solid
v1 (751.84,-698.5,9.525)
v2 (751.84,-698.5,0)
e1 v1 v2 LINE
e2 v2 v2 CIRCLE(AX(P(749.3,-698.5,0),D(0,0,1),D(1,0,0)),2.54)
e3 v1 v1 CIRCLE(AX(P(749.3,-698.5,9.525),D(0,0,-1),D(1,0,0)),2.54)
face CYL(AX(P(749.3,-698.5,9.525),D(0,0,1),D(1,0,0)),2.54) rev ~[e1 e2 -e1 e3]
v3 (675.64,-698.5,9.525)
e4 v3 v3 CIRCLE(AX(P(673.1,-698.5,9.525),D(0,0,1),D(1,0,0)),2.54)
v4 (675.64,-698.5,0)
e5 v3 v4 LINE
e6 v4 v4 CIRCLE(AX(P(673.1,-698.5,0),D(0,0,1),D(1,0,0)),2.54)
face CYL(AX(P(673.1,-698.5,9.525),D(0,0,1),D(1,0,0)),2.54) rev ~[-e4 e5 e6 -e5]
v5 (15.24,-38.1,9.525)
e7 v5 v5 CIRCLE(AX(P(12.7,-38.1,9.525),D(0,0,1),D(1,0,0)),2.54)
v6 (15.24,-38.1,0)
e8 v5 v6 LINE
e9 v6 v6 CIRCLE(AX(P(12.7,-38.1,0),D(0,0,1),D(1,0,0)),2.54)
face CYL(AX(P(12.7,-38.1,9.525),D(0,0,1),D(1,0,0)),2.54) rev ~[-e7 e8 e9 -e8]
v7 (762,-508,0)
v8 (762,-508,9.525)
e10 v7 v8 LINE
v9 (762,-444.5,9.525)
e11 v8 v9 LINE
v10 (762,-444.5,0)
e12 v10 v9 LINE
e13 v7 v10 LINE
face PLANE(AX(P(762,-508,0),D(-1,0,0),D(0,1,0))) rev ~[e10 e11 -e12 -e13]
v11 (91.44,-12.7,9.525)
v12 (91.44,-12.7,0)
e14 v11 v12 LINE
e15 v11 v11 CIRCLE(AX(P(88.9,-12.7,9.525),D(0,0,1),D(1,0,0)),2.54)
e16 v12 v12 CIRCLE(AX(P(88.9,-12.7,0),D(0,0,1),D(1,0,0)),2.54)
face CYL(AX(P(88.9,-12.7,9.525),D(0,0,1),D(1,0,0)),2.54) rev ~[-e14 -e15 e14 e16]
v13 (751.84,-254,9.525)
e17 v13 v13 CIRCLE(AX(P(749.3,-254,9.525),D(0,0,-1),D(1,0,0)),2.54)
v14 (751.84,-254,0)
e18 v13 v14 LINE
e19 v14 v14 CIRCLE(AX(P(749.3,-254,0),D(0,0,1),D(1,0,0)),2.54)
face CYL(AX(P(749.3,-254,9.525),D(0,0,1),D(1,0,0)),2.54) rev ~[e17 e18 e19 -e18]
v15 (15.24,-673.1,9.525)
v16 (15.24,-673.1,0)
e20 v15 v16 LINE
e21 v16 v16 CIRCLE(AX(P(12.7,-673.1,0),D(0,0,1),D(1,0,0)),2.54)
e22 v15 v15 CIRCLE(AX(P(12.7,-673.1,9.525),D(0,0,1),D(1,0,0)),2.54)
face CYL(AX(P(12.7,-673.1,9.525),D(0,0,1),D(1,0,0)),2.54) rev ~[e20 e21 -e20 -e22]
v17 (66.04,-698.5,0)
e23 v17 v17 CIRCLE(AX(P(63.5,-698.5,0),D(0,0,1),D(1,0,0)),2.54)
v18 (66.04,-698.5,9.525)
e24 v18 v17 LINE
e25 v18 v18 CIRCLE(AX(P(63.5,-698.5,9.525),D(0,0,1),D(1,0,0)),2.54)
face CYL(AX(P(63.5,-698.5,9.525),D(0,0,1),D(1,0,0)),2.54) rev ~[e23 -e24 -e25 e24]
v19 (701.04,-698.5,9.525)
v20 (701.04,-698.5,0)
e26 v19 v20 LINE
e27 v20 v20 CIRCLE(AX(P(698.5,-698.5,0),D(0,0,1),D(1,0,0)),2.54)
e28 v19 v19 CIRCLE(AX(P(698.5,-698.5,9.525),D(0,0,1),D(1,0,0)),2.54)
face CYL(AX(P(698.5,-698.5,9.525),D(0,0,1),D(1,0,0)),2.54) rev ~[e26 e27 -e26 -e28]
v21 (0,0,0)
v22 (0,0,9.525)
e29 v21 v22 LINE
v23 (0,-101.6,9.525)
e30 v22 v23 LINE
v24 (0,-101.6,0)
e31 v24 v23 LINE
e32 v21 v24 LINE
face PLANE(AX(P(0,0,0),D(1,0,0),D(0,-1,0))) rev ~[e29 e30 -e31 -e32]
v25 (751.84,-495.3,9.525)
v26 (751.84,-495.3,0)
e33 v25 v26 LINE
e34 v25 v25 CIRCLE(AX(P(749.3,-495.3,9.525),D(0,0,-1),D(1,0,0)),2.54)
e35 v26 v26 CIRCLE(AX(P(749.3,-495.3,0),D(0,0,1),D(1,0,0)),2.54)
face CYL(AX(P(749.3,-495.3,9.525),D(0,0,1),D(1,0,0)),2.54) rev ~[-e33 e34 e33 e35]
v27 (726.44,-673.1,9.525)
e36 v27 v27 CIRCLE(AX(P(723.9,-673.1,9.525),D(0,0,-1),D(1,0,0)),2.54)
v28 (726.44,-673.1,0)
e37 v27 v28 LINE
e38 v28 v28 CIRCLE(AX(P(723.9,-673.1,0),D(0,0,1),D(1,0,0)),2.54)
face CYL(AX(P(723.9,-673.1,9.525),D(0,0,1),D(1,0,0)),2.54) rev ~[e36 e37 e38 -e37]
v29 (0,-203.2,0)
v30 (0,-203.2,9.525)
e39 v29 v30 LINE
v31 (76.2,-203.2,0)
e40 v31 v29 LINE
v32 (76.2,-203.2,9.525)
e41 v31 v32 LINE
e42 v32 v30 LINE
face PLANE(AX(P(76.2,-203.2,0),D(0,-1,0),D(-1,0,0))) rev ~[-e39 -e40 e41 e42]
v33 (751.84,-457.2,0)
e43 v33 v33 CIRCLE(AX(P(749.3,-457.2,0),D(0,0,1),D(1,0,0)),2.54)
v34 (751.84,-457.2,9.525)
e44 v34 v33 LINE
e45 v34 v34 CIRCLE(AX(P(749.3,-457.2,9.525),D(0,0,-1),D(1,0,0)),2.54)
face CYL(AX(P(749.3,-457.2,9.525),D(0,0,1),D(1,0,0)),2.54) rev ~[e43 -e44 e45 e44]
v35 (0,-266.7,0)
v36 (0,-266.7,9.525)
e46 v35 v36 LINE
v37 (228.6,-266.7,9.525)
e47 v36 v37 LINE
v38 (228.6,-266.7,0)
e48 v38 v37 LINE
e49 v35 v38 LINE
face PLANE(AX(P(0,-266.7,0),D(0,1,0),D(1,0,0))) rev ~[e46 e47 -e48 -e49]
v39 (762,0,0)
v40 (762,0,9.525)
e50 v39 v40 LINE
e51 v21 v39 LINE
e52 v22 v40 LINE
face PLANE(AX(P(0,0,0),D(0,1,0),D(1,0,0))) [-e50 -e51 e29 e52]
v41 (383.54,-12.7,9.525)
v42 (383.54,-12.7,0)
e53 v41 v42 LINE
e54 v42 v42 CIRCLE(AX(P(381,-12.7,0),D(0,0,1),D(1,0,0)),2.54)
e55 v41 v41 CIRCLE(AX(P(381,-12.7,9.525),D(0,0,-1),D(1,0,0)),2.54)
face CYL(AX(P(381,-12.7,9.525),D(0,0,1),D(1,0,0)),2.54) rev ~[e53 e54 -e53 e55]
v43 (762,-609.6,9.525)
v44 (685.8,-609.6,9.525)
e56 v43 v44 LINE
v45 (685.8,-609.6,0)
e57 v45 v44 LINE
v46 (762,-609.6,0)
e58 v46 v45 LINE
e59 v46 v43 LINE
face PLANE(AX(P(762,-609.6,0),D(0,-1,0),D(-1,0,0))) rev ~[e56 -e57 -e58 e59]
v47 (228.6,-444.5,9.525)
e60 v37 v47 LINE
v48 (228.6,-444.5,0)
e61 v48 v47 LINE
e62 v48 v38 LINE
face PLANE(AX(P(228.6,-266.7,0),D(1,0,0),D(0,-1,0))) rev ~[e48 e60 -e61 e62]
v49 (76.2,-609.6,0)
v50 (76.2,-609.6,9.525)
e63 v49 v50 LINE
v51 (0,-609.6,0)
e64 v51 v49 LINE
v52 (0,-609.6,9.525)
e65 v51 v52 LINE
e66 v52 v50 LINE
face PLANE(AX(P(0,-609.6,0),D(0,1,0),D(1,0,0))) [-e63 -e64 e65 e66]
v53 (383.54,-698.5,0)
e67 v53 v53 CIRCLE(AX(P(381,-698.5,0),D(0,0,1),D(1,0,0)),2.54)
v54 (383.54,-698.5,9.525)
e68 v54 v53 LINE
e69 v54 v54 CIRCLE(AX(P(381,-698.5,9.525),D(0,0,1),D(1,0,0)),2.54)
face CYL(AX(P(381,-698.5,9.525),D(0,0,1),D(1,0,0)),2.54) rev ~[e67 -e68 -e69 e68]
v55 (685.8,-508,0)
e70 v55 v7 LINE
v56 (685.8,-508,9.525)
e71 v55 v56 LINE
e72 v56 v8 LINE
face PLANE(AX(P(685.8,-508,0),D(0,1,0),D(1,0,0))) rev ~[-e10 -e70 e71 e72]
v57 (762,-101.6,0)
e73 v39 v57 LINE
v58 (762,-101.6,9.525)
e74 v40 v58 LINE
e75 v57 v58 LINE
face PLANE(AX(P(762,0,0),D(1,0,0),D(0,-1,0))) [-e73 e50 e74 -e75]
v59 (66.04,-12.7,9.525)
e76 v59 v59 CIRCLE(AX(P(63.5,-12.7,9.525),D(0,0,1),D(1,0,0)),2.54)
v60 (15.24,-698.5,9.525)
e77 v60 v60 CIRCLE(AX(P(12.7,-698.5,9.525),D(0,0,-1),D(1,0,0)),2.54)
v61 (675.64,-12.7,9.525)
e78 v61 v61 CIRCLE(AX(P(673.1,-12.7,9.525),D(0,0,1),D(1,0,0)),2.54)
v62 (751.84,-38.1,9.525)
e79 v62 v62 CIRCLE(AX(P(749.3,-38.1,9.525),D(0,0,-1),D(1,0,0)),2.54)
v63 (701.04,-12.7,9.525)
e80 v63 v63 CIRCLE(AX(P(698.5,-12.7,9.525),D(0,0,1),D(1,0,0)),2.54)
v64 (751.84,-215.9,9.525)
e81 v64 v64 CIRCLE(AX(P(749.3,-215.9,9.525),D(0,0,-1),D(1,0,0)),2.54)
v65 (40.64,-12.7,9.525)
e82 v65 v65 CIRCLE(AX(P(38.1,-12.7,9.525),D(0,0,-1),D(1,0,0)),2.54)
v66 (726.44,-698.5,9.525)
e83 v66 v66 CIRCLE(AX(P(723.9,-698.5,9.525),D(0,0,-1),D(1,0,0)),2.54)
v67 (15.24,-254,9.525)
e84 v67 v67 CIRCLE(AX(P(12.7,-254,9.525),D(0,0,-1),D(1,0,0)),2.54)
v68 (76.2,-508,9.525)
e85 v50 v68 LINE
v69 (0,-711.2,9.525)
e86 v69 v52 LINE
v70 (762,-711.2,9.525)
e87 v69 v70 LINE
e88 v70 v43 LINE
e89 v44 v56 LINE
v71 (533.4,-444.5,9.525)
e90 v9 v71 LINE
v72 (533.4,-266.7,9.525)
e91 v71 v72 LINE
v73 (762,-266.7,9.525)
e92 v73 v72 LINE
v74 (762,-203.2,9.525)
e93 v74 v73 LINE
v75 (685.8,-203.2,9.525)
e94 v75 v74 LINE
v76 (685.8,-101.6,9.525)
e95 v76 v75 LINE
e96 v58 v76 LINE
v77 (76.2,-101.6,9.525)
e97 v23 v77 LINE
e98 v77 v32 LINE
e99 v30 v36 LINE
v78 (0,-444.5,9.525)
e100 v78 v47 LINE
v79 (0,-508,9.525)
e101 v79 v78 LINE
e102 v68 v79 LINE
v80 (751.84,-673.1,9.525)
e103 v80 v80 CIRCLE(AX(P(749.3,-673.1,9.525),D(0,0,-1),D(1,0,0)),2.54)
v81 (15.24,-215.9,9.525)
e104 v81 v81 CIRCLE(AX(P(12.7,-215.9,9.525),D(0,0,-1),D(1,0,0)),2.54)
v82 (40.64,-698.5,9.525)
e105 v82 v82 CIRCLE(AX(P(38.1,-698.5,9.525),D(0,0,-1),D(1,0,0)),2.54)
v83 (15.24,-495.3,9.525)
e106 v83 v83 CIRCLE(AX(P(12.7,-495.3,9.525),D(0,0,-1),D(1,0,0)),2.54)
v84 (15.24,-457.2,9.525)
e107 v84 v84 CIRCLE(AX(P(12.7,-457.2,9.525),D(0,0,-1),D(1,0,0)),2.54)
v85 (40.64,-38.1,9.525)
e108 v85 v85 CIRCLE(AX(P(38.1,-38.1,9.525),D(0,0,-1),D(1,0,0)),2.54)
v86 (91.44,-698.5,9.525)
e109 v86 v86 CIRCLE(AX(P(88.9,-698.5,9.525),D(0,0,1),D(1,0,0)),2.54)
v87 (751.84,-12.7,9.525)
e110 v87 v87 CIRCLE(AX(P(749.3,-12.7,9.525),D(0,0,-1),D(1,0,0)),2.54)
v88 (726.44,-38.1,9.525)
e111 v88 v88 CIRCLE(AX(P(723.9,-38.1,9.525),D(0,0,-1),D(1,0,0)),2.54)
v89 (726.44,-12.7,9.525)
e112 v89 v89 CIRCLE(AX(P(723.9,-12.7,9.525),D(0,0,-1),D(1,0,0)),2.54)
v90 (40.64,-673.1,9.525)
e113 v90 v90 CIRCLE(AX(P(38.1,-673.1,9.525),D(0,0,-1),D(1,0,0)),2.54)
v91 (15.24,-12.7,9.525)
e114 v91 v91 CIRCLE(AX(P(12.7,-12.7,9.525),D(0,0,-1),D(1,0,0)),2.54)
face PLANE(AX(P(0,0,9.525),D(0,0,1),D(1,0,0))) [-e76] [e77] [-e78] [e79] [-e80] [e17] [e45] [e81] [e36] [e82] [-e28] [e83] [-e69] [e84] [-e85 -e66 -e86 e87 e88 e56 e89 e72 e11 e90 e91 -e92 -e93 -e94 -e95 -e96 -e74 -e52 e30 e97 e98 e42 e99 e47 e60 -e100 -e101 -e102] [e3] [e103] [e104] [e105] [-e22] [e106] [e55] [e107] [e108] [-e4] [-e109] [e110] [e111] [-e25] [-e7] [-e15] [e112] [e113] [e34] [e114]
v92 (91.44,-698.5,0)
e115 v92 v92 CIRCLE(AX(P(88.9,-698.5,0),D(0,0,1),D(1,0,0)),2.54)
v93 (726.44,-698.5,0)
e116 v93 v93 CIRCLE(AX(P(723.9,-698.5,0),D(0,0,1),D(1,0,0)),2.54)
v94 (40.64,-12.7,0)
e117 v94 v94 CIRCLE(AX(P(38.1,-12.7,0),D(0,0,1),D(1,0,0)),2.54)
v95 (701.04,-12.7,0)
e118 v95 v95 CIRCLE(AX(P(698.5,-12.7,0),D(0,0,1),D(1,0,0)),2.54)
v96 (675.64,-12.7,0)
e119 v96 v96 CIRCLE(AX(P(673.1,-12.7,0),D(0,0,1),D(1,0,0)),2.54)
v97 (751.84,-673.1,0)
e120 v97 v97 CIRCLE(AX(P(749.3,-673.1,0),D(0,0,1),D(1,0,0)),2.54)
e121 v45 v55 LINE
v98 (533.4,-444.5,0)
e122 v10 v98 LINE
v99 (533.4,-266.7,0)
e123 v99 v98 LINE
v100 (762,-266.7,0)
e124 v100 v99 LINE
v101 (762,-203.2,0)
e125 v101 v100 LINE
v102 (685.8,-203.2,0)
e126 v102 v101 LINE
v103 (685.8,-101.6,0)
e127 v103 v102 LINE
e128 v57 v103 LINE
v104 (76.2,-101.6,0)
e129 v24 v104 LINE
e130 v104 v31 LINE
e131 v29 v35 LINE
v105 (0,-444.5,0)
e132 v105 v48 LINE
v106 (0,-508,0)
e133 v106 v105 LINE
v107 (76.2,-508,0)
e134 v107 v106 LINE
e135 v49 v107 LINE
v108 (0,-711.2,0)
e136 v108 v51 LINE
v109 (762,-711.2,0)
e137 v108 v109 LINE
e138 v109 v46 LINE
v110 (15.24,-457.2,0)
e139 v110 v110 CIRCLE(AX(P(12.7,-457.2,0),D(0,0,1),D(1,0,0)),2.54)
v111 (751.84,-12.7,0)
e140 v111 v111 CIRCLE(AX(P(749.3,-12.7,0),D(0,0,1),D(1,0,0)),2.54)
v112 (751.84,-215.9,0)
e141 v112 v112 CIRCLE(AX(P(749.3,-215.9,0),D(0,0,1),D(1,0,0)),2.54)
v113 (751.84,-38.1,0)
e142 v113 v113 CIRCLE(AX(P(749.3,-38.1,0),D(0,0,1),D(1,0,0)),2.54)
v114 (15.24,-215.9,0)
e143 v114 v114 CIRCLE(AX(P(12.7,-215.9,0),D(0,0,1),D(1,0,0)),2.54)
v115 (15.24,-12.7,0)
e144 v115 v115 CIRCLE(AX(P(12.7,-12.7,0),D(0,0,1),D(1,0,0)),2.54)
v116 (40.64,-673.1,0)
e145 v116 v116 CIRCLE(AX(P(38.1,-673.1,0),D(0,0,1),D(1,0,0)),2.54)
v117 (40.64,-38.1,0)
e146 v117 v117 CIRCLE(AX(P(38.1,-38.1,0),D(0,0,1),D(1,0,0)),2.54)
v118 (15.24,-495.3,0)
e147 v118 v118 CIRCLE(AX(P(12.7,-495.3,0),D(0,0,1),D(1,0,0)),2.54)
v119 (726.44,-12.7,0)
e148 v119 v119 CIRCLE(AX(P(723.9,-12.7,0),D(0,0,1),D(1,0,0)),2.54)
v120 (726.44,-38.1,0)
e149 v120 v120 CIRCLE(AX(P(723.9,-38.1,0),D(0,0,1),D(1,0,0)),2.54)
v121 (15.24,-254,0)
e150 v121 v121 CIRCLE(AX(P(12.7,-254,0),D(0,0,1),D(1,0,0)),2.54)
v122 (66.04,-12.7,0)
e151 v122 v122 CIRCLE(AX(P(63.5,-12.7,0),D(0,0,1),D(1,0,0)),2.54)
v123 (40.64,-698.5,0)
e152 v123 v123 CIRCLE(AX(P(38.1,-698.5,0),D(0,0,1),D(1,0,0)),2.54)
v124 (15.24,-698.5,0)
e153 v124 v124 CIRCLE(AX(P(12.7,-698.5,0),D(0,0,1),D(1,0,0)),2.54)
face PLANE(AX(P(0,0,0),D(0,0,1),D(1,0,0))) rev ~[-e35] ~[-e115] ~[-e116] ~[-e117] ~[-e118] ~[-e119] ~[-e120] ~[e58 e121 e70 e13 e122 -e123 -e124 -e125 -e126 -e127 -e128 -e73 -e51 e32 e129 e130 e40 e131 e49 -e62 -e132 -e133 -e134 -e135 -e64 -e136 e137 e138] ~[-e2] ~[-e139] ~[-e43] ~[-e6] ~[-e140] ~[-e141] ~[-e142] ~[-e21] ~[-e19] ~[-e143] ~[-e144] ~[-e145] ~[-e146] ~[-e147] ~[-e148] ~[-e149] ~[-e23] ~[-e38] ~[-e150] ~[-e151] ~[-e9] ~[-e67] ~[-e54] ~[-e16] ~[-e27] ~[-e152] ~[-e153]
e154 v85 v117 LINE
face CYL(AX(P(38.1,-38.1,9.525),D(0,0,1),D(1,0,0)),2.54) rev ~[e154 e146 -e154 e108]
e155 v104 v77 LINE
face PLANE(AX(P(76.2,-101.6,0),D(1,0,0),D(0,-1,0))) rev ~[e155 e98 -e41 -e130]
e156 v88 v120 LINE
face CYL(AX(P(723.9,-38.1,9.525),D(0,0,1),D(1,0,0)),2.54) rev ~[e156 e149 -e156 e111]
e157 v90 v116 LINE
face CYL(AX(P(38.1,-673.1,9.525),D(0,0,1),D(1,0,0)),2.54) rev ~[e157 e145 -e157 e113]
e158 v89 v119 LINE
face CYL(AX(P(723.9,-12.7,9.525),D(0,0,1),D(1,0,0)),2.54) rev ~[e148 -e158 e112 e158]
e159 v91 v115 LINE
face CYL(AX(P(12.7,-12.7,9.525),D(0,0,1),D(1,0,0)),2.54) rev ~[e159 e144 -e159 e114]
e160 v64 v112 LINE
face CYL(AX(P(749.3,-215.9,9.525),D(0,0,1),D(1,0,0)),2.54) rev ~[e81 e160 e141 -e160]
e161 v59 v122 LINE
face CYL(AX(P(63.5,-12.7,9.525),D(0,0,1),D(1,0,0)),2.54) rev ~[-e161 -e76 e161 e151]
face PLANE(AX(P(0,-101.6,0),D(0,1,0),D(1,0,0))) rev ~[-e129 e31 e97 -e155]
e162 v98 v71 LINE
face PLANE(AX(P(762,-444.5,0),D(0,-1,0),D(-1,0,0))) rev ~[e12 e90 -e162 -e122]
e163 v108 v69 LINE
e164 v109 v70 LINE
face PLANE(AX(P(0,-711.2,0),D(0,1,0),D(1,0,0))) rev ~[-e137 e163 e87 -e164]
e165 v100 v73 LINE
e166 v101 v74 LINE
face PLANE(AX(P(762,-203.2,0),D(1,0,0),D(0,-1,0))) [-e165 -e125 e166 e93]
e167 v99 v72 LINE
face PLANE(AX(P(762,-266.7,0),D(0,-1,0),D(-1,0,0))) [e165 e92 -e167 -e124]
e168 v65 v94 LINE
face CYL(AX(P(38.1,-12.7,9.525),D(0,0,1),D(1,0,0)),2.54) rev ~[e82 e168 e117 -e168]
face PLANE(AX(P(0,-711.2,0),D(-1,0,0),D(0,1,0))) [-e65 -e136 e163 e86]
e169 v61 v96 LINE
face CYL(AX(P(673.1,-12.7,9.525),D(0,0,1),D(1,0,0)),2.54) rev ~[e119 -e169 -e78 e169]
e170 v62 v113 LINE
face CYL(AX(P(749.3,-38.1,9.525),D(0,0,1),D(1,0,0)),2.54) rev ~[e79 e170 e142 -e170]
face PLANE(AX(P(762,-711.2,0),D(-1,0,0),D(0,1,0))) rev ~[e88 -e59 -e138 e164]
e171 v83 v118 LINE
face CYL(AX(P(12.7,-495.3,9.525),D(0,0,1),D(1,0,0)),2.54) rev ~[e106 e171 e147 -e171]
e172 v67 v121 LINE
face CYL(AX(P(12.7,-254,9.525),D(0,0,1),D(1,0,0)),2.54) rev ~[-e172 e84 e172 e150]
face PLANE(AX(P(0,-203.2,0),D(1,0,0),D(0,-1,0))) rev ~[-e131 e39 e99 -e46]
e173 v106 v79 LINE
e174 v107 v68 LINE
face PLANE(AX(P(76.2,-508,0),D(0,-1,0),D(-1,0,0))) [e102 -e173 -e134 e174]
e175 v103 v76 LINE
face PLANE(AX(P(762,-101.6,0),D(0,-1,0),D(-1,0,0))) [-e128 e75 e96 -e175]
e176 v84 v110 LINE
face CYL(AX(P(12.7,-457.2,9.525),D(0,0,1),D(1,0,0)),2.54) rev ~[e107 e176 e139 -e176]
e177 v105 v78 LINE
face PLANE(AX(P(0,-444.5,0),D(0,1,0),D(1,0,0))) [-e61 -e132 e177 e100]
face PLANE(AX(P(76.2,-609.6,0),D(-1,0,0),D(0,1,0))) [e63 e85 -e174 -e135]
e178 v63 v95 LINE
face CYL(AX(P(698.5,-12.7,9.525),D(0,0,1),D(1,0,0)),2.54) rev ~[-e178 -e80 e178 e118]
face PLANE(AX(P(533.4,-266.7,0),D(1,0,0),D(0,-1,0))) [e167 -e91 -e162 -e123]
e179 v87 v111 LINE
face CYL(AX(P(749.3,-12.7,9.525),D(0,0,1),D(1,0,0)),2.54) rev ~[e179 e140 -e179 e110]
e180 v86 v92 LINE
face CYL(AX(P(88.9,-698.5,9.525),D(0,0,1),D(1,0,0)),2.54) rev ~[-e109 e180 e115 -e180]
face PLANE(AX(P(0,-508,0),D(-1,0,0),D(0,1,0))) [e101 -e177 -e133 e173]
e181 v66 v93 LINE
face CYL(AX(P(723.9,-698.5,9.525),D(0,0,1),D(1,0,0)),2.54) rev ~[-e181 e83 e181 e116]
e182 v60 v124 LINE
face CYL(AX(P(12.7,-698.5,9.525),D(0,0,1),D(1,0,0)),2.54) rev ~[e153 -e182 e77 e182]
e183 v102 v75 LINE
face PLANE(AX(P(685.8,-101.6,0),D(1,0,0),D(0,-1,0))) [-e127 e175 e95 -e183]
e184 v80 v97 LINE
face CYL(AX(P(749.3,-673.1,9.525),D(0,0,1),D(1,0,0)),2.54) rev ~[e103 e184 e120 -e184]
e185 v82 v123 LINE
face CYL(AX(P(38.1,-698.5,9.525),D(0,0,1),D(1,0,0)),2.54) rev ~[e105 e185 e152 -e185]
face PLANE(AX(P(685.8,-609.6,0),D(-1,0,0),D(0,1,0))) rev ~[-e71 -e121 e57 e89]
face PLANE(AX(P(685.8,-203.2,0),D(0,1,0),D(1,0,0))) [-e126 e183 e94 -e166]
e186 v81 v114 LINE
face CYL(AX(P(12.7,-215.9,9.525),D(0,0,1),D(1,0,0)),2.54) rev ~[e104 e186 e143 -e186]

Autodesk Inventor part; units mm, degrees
ref_plane "YZ Plane" through (0, 0, 0) normal (1, 0, 0) x (0, 1, 0)
ref_plane "XZ Plane" through (0, 0, 0) normal (0, 1, 0) x (-1, 0, 0)
ref_plane "XY Plane" through (0, 0, 0) normal (0, 0, 1) x (1, 0, 0)
sketch "Sketch1" plane through (0, 0, 0) normal (0, 0, 1) x (1, 0, 0)
  line L0 (0, 0) -> (762, 0)
  line L1 (0, 0) -> (0, -101.6)
  line L2 (0, -101.6) -> (76.2, -101.6)
  line L3 (76.2, -101.6) -> (76.2, -203.2)
  line L4 (76.2, -203.2) -> (0, -203.2)
  line L5 (0, -203.2) -> (0, -266.7)
  line L6 (0, -266.7) -> (228.6, -266.7)
  line L7 (228.6, -266.7) -> (228.6, -355.6)
  line L8 (0, -711.2) -> (762, -711.2)
  line L9 (0, -711.2) -> (0, -609.6)
  line L10 (0, -609.6) -> (76.2, -609.6)
  line L11 (76.2, -609.6) -> (76.2, -508)
  line L12 (76.2, -508) -> (0, -508)
  line L13 (0, -508) -> (0, -444.5)
  line L14 (0, -444.5) -> (228.6, -444.5)
  line L15 (228.6, -444.5) -> (228.6, -355.6)
  line L16 (762, 0) -> (762, -101.6)
  line L17 (762, -101.6) -> (685.8, -101.6)
  line L18 (685.8, -101.6) -> (685.8, -203.2)
  line L19 (685.8, -203.2) -> (762, -203.2)
  line L20 (762, -203.2) -> (762, -266.7)
  line L21 (762, -266.7) -> (533.4, -266.7)
  line L22 (533.4, -266.7) -> (533.4, -355.6)
  line L23 (762, -711.2) -> (762, -609.6)
  line L24 (762, -609.6) -> (685.8, -609.6)
  line L25 (685.8, -609.6) -> (685.8, -508)
  line L26 (685.8, -508) -> (762, -508)
  line L27 (762, -508) -> (762, -444.5)
  line L28 (762, -444.5) -> (533.4, -444.5)
  line L29 (533.4, -444.5) -> (533.4, -355.6)
  dimension "d0" = 762
  dimension "d1" = 101.6
  dimension "d2" = 76.2
  dimension "d3" = 101.6
  dimension "d4" = 63.5
  dimension "d5" = 228.6
  dimension "d7" = 88.9
extrude "Extrusion1" add sketch "Sketch1" along normal blind 9.525
sketch "Sketch2" plane through (0, 0, 9.525) normal (0, 0, 1) x (1, 0, 0)
  line L0 (0, 0) -> (12.7, 0)
  line L1 (0, 0) -> (762, 0) projected
  line L2 (12.7, 0) -> (12.7, -12.7)
  line L3 (12.7, -12.7) -> (38.1, -12.7)
  line L4 (38.1, -12.7) -> (38.1, -38.1)
  line L5 (38.1, -38.1) -> (12.7, -38.1)
  circle A0 centre (12.7, -12.7) radius 2.54
  circle A1 centre (38.1, -12.7) radius 2.54
  circle A2 centre (38.1, -38.1) radius 2.54
  circle A3 centre (12.7, -38.1) radius 2.54
  line L6 (0, -203.2) -> (76.2, -203.2) projected
  line L7 (0, -203.2) -> (12.7, -203.2)
  line L8 (12.7, -203.2) -> (12.7, -215.9)
  line L9 (228.6, -266.7) -> (0, -266.7) projected
  line L10 (0, -266.7) -> (12.7, -266.7)
  line L11 (12.7, -266.7) -> (12.7, -254)
  circle A4 centre (12.7, -254) radius 2.54
  circle A5 centre (12.7, -215.9) radius 2.54
  line L12 (381, 0) -> (381, -711.2)
  line L13 (762, -711.2) -> (0, -711.2) projected
  line L14 (0, -355.6) -> (762, -355.6)
  line L15 (762, 0) -> (749.3, 0)
  line L16 (762, 0) -> (0, 0)
  line L17 (749.3, 0) -> (749.3, -12.7)
  line L18 (749.3, -12.7) -> (723.9, -12.7)
  line L19 (723.9, -12.7) -> (723.9, -38.1)
  line L20 (723.9, -38.1) -> (749.3, -38.1)
  circle A6 centre (749.3, -12.7) radius 2.54
  circle A7 centre (723.9, -12.7) radius 2.54
  circle A8 centre (723.9, -38.1) radius 2.54
  circle A9 centre (749.3, -38.1) radius 2.54
  line L21 (762, -203.2) -> (685.8, -203.2)
  line L22 (762, -203.2) -> (749.3, -203.2)
  line L23 (749.3, -203.2) -> (749.3, -215.9)
  line L24 (533.4, -266.7) -> (762, -266.7)
  line L25 (762, -266.7) -> (749.3, -266.7)
  line L26 (749.3, -266.7) -> (749.3, -254)
  circle A10 centre (749.3, -254) radius 2.54
  circle A11 centre (749.3, -215.9) radius 2.54
  line L27 (0, -711.2) -> (12.7, -711.2)
  line L28 (0, -711.2) -> (762, -711.2)
  line L29 (12.7, -711.2) -> (12.7, -698.5)
  line L30 (12.7, -698.5) -> (38.1, -698.5)
  line L31 (38.1, -698.5) -> (38.1, -673.1)
  line L32 (38.1, -673.1) -> (12.7, -673.1)
  circle A12 centre (12.7, -698.5) radius 2.54
  circle A13 centre (38.1, -698.5) radius 2.54
  circle A14 centre (38.1, -673.1) radius 2.54
  circle A15 centre (12.7, -673.1) radius 2.54
  line L33 (0, -508) -> (76.2, -508)
  line L34 (0, -508) -> (12.7, -508)
  line L35 (12.7, -508) -> (12.7, -495.3)
  line L36 (228.6, -444.5) -> (0, -444.5)
  line L37 (0, -444.5) -> (12.7, -444.5)
  line L38 (12.7, -444.5) -> (12.7, -457.2)
  circle A16 centre (12.7, -457.2) radius 2.54
  circle A17 centre (12.7, -495.3) radius 2.54
  line L39 (381, -711.2) -> (381, 0)
  line L40 (762, -711.2) -> (749.3, -711.2)
  line L41 (762, -711.2) -> (0, -711.2)
  line L42 (749.3, -711.2) -> (749.3, -698.5)
  line L43 (749.3, -698.5) -> (723.9, -698.5)
  line L44 (723.9, -698.5) -> (723.9, -673.1)
  line L45 (723.9, -673.1) -> (749.3, -673.1)
  circle A18 centre (749.3, -698.5) radius 2.54
  line L46 (533.4, -444.5) -> (762, -444.5)
  line L47 (749.3, -444.5) -> (749.3, -457.2)
  line L48 (762, -444.5) -> (749.3, -444.5)
  circle A19 centre (749.3, -457.2) radius 2.54
  circle A20 centre (749.3, -495.3) radius 2.54
  line L49 (749.3, -508) -> (749.3, -495.3)
  line L50 (762, -508) -> (685.8, -508)
  line L51 (762, -508) -> (749.3, -508)
  circle A21 centre (723.9, -673.1) radius 2.54
  circle A22 centre (723.9, -698.5) radius 2.54
  circle A23 centre (749.3, -673.1) radius 2.54
  dimension "d10" = 12.7
  dimension "d11" = 12.7
  dimension "d12" = 25.4
  dimension "d13" = 25.4
  dimension "d14" = 25.4
  dimension "d16" = 5.08
  dimension "d17" = 12.7
  dimension "d18" = 12.7
  dimension "d19" = 12.7
extrude "Extrusion2" cut sketch "Sketch2" against normal blind 9.525
sketch "Sketch4" plane through (0, 0, 9.525) normal (0, 0, 1) x (1, 0, 0)
  circle A0 centre (38.1, -12.7) radius 2.54 projected
  line L0 (38.1, -12.7) -> (63.5, -12.7) construction
  line L1 (63.5, -12.7) -> (88.9, -12.7) construction
  circle A1 centre (63.5, -12.7) radius 2.54
  circle A2 centre (88.9, -12.7) radius 2.54
  line L2 (762, 0) -> (0, 0) projected
  line L3 (0, -711.2) -> (762, -711.2) projected
  line L4 (0, -355.6) -> (799.6249, -355.6)
  line L5 (723.9, -12.7) -> (698.5, -12.7) construction
  line L6 (698.5, -12.7) -> (673.1, -12.7) construction
  circle A3 centre (698.5, -12.7) radius 2.54
  circle A4 centre (673.1, -12.7) radius 2.54
  line L7 (381, 0) -> (381, -12.7)
  circle A5 centre (381, -12.7) radius 2.54
  line L8 (38.1, -698.5) -> (63.5, -698.5) construction
  line L9 (63.5, -698.5) -> (88.9, -698.5) construction
  circle A6 centre (63.5, -698.5) radius 2.54
  circle A7 centre (88.9, -698.5) radius 2.54
  line L10 (723.9, -698.5) -> (698.5, -698.5) construction
  line L11 (698.5, -698.5) -> (673.1, -698.5) construction
  circle A8 centre (698.5, -698.5) radius 2.54
  circle A9 centre (673.1, -698.5) radius 2.54
  circle A10 centre (381, -698.5) radius 2.54
  dimension "d29" = 25.4
  dimension "d30" = 25.4
  dimension "d32" = 12.7
extrude "Extrusion4" cut sketch "Sketch4" against normal blind 25.4 contours A1 | A2 | A3 | A4 | A5 | A6 | A7 | A8 | A9 | A10
properties part number "Belly Pan V2"
